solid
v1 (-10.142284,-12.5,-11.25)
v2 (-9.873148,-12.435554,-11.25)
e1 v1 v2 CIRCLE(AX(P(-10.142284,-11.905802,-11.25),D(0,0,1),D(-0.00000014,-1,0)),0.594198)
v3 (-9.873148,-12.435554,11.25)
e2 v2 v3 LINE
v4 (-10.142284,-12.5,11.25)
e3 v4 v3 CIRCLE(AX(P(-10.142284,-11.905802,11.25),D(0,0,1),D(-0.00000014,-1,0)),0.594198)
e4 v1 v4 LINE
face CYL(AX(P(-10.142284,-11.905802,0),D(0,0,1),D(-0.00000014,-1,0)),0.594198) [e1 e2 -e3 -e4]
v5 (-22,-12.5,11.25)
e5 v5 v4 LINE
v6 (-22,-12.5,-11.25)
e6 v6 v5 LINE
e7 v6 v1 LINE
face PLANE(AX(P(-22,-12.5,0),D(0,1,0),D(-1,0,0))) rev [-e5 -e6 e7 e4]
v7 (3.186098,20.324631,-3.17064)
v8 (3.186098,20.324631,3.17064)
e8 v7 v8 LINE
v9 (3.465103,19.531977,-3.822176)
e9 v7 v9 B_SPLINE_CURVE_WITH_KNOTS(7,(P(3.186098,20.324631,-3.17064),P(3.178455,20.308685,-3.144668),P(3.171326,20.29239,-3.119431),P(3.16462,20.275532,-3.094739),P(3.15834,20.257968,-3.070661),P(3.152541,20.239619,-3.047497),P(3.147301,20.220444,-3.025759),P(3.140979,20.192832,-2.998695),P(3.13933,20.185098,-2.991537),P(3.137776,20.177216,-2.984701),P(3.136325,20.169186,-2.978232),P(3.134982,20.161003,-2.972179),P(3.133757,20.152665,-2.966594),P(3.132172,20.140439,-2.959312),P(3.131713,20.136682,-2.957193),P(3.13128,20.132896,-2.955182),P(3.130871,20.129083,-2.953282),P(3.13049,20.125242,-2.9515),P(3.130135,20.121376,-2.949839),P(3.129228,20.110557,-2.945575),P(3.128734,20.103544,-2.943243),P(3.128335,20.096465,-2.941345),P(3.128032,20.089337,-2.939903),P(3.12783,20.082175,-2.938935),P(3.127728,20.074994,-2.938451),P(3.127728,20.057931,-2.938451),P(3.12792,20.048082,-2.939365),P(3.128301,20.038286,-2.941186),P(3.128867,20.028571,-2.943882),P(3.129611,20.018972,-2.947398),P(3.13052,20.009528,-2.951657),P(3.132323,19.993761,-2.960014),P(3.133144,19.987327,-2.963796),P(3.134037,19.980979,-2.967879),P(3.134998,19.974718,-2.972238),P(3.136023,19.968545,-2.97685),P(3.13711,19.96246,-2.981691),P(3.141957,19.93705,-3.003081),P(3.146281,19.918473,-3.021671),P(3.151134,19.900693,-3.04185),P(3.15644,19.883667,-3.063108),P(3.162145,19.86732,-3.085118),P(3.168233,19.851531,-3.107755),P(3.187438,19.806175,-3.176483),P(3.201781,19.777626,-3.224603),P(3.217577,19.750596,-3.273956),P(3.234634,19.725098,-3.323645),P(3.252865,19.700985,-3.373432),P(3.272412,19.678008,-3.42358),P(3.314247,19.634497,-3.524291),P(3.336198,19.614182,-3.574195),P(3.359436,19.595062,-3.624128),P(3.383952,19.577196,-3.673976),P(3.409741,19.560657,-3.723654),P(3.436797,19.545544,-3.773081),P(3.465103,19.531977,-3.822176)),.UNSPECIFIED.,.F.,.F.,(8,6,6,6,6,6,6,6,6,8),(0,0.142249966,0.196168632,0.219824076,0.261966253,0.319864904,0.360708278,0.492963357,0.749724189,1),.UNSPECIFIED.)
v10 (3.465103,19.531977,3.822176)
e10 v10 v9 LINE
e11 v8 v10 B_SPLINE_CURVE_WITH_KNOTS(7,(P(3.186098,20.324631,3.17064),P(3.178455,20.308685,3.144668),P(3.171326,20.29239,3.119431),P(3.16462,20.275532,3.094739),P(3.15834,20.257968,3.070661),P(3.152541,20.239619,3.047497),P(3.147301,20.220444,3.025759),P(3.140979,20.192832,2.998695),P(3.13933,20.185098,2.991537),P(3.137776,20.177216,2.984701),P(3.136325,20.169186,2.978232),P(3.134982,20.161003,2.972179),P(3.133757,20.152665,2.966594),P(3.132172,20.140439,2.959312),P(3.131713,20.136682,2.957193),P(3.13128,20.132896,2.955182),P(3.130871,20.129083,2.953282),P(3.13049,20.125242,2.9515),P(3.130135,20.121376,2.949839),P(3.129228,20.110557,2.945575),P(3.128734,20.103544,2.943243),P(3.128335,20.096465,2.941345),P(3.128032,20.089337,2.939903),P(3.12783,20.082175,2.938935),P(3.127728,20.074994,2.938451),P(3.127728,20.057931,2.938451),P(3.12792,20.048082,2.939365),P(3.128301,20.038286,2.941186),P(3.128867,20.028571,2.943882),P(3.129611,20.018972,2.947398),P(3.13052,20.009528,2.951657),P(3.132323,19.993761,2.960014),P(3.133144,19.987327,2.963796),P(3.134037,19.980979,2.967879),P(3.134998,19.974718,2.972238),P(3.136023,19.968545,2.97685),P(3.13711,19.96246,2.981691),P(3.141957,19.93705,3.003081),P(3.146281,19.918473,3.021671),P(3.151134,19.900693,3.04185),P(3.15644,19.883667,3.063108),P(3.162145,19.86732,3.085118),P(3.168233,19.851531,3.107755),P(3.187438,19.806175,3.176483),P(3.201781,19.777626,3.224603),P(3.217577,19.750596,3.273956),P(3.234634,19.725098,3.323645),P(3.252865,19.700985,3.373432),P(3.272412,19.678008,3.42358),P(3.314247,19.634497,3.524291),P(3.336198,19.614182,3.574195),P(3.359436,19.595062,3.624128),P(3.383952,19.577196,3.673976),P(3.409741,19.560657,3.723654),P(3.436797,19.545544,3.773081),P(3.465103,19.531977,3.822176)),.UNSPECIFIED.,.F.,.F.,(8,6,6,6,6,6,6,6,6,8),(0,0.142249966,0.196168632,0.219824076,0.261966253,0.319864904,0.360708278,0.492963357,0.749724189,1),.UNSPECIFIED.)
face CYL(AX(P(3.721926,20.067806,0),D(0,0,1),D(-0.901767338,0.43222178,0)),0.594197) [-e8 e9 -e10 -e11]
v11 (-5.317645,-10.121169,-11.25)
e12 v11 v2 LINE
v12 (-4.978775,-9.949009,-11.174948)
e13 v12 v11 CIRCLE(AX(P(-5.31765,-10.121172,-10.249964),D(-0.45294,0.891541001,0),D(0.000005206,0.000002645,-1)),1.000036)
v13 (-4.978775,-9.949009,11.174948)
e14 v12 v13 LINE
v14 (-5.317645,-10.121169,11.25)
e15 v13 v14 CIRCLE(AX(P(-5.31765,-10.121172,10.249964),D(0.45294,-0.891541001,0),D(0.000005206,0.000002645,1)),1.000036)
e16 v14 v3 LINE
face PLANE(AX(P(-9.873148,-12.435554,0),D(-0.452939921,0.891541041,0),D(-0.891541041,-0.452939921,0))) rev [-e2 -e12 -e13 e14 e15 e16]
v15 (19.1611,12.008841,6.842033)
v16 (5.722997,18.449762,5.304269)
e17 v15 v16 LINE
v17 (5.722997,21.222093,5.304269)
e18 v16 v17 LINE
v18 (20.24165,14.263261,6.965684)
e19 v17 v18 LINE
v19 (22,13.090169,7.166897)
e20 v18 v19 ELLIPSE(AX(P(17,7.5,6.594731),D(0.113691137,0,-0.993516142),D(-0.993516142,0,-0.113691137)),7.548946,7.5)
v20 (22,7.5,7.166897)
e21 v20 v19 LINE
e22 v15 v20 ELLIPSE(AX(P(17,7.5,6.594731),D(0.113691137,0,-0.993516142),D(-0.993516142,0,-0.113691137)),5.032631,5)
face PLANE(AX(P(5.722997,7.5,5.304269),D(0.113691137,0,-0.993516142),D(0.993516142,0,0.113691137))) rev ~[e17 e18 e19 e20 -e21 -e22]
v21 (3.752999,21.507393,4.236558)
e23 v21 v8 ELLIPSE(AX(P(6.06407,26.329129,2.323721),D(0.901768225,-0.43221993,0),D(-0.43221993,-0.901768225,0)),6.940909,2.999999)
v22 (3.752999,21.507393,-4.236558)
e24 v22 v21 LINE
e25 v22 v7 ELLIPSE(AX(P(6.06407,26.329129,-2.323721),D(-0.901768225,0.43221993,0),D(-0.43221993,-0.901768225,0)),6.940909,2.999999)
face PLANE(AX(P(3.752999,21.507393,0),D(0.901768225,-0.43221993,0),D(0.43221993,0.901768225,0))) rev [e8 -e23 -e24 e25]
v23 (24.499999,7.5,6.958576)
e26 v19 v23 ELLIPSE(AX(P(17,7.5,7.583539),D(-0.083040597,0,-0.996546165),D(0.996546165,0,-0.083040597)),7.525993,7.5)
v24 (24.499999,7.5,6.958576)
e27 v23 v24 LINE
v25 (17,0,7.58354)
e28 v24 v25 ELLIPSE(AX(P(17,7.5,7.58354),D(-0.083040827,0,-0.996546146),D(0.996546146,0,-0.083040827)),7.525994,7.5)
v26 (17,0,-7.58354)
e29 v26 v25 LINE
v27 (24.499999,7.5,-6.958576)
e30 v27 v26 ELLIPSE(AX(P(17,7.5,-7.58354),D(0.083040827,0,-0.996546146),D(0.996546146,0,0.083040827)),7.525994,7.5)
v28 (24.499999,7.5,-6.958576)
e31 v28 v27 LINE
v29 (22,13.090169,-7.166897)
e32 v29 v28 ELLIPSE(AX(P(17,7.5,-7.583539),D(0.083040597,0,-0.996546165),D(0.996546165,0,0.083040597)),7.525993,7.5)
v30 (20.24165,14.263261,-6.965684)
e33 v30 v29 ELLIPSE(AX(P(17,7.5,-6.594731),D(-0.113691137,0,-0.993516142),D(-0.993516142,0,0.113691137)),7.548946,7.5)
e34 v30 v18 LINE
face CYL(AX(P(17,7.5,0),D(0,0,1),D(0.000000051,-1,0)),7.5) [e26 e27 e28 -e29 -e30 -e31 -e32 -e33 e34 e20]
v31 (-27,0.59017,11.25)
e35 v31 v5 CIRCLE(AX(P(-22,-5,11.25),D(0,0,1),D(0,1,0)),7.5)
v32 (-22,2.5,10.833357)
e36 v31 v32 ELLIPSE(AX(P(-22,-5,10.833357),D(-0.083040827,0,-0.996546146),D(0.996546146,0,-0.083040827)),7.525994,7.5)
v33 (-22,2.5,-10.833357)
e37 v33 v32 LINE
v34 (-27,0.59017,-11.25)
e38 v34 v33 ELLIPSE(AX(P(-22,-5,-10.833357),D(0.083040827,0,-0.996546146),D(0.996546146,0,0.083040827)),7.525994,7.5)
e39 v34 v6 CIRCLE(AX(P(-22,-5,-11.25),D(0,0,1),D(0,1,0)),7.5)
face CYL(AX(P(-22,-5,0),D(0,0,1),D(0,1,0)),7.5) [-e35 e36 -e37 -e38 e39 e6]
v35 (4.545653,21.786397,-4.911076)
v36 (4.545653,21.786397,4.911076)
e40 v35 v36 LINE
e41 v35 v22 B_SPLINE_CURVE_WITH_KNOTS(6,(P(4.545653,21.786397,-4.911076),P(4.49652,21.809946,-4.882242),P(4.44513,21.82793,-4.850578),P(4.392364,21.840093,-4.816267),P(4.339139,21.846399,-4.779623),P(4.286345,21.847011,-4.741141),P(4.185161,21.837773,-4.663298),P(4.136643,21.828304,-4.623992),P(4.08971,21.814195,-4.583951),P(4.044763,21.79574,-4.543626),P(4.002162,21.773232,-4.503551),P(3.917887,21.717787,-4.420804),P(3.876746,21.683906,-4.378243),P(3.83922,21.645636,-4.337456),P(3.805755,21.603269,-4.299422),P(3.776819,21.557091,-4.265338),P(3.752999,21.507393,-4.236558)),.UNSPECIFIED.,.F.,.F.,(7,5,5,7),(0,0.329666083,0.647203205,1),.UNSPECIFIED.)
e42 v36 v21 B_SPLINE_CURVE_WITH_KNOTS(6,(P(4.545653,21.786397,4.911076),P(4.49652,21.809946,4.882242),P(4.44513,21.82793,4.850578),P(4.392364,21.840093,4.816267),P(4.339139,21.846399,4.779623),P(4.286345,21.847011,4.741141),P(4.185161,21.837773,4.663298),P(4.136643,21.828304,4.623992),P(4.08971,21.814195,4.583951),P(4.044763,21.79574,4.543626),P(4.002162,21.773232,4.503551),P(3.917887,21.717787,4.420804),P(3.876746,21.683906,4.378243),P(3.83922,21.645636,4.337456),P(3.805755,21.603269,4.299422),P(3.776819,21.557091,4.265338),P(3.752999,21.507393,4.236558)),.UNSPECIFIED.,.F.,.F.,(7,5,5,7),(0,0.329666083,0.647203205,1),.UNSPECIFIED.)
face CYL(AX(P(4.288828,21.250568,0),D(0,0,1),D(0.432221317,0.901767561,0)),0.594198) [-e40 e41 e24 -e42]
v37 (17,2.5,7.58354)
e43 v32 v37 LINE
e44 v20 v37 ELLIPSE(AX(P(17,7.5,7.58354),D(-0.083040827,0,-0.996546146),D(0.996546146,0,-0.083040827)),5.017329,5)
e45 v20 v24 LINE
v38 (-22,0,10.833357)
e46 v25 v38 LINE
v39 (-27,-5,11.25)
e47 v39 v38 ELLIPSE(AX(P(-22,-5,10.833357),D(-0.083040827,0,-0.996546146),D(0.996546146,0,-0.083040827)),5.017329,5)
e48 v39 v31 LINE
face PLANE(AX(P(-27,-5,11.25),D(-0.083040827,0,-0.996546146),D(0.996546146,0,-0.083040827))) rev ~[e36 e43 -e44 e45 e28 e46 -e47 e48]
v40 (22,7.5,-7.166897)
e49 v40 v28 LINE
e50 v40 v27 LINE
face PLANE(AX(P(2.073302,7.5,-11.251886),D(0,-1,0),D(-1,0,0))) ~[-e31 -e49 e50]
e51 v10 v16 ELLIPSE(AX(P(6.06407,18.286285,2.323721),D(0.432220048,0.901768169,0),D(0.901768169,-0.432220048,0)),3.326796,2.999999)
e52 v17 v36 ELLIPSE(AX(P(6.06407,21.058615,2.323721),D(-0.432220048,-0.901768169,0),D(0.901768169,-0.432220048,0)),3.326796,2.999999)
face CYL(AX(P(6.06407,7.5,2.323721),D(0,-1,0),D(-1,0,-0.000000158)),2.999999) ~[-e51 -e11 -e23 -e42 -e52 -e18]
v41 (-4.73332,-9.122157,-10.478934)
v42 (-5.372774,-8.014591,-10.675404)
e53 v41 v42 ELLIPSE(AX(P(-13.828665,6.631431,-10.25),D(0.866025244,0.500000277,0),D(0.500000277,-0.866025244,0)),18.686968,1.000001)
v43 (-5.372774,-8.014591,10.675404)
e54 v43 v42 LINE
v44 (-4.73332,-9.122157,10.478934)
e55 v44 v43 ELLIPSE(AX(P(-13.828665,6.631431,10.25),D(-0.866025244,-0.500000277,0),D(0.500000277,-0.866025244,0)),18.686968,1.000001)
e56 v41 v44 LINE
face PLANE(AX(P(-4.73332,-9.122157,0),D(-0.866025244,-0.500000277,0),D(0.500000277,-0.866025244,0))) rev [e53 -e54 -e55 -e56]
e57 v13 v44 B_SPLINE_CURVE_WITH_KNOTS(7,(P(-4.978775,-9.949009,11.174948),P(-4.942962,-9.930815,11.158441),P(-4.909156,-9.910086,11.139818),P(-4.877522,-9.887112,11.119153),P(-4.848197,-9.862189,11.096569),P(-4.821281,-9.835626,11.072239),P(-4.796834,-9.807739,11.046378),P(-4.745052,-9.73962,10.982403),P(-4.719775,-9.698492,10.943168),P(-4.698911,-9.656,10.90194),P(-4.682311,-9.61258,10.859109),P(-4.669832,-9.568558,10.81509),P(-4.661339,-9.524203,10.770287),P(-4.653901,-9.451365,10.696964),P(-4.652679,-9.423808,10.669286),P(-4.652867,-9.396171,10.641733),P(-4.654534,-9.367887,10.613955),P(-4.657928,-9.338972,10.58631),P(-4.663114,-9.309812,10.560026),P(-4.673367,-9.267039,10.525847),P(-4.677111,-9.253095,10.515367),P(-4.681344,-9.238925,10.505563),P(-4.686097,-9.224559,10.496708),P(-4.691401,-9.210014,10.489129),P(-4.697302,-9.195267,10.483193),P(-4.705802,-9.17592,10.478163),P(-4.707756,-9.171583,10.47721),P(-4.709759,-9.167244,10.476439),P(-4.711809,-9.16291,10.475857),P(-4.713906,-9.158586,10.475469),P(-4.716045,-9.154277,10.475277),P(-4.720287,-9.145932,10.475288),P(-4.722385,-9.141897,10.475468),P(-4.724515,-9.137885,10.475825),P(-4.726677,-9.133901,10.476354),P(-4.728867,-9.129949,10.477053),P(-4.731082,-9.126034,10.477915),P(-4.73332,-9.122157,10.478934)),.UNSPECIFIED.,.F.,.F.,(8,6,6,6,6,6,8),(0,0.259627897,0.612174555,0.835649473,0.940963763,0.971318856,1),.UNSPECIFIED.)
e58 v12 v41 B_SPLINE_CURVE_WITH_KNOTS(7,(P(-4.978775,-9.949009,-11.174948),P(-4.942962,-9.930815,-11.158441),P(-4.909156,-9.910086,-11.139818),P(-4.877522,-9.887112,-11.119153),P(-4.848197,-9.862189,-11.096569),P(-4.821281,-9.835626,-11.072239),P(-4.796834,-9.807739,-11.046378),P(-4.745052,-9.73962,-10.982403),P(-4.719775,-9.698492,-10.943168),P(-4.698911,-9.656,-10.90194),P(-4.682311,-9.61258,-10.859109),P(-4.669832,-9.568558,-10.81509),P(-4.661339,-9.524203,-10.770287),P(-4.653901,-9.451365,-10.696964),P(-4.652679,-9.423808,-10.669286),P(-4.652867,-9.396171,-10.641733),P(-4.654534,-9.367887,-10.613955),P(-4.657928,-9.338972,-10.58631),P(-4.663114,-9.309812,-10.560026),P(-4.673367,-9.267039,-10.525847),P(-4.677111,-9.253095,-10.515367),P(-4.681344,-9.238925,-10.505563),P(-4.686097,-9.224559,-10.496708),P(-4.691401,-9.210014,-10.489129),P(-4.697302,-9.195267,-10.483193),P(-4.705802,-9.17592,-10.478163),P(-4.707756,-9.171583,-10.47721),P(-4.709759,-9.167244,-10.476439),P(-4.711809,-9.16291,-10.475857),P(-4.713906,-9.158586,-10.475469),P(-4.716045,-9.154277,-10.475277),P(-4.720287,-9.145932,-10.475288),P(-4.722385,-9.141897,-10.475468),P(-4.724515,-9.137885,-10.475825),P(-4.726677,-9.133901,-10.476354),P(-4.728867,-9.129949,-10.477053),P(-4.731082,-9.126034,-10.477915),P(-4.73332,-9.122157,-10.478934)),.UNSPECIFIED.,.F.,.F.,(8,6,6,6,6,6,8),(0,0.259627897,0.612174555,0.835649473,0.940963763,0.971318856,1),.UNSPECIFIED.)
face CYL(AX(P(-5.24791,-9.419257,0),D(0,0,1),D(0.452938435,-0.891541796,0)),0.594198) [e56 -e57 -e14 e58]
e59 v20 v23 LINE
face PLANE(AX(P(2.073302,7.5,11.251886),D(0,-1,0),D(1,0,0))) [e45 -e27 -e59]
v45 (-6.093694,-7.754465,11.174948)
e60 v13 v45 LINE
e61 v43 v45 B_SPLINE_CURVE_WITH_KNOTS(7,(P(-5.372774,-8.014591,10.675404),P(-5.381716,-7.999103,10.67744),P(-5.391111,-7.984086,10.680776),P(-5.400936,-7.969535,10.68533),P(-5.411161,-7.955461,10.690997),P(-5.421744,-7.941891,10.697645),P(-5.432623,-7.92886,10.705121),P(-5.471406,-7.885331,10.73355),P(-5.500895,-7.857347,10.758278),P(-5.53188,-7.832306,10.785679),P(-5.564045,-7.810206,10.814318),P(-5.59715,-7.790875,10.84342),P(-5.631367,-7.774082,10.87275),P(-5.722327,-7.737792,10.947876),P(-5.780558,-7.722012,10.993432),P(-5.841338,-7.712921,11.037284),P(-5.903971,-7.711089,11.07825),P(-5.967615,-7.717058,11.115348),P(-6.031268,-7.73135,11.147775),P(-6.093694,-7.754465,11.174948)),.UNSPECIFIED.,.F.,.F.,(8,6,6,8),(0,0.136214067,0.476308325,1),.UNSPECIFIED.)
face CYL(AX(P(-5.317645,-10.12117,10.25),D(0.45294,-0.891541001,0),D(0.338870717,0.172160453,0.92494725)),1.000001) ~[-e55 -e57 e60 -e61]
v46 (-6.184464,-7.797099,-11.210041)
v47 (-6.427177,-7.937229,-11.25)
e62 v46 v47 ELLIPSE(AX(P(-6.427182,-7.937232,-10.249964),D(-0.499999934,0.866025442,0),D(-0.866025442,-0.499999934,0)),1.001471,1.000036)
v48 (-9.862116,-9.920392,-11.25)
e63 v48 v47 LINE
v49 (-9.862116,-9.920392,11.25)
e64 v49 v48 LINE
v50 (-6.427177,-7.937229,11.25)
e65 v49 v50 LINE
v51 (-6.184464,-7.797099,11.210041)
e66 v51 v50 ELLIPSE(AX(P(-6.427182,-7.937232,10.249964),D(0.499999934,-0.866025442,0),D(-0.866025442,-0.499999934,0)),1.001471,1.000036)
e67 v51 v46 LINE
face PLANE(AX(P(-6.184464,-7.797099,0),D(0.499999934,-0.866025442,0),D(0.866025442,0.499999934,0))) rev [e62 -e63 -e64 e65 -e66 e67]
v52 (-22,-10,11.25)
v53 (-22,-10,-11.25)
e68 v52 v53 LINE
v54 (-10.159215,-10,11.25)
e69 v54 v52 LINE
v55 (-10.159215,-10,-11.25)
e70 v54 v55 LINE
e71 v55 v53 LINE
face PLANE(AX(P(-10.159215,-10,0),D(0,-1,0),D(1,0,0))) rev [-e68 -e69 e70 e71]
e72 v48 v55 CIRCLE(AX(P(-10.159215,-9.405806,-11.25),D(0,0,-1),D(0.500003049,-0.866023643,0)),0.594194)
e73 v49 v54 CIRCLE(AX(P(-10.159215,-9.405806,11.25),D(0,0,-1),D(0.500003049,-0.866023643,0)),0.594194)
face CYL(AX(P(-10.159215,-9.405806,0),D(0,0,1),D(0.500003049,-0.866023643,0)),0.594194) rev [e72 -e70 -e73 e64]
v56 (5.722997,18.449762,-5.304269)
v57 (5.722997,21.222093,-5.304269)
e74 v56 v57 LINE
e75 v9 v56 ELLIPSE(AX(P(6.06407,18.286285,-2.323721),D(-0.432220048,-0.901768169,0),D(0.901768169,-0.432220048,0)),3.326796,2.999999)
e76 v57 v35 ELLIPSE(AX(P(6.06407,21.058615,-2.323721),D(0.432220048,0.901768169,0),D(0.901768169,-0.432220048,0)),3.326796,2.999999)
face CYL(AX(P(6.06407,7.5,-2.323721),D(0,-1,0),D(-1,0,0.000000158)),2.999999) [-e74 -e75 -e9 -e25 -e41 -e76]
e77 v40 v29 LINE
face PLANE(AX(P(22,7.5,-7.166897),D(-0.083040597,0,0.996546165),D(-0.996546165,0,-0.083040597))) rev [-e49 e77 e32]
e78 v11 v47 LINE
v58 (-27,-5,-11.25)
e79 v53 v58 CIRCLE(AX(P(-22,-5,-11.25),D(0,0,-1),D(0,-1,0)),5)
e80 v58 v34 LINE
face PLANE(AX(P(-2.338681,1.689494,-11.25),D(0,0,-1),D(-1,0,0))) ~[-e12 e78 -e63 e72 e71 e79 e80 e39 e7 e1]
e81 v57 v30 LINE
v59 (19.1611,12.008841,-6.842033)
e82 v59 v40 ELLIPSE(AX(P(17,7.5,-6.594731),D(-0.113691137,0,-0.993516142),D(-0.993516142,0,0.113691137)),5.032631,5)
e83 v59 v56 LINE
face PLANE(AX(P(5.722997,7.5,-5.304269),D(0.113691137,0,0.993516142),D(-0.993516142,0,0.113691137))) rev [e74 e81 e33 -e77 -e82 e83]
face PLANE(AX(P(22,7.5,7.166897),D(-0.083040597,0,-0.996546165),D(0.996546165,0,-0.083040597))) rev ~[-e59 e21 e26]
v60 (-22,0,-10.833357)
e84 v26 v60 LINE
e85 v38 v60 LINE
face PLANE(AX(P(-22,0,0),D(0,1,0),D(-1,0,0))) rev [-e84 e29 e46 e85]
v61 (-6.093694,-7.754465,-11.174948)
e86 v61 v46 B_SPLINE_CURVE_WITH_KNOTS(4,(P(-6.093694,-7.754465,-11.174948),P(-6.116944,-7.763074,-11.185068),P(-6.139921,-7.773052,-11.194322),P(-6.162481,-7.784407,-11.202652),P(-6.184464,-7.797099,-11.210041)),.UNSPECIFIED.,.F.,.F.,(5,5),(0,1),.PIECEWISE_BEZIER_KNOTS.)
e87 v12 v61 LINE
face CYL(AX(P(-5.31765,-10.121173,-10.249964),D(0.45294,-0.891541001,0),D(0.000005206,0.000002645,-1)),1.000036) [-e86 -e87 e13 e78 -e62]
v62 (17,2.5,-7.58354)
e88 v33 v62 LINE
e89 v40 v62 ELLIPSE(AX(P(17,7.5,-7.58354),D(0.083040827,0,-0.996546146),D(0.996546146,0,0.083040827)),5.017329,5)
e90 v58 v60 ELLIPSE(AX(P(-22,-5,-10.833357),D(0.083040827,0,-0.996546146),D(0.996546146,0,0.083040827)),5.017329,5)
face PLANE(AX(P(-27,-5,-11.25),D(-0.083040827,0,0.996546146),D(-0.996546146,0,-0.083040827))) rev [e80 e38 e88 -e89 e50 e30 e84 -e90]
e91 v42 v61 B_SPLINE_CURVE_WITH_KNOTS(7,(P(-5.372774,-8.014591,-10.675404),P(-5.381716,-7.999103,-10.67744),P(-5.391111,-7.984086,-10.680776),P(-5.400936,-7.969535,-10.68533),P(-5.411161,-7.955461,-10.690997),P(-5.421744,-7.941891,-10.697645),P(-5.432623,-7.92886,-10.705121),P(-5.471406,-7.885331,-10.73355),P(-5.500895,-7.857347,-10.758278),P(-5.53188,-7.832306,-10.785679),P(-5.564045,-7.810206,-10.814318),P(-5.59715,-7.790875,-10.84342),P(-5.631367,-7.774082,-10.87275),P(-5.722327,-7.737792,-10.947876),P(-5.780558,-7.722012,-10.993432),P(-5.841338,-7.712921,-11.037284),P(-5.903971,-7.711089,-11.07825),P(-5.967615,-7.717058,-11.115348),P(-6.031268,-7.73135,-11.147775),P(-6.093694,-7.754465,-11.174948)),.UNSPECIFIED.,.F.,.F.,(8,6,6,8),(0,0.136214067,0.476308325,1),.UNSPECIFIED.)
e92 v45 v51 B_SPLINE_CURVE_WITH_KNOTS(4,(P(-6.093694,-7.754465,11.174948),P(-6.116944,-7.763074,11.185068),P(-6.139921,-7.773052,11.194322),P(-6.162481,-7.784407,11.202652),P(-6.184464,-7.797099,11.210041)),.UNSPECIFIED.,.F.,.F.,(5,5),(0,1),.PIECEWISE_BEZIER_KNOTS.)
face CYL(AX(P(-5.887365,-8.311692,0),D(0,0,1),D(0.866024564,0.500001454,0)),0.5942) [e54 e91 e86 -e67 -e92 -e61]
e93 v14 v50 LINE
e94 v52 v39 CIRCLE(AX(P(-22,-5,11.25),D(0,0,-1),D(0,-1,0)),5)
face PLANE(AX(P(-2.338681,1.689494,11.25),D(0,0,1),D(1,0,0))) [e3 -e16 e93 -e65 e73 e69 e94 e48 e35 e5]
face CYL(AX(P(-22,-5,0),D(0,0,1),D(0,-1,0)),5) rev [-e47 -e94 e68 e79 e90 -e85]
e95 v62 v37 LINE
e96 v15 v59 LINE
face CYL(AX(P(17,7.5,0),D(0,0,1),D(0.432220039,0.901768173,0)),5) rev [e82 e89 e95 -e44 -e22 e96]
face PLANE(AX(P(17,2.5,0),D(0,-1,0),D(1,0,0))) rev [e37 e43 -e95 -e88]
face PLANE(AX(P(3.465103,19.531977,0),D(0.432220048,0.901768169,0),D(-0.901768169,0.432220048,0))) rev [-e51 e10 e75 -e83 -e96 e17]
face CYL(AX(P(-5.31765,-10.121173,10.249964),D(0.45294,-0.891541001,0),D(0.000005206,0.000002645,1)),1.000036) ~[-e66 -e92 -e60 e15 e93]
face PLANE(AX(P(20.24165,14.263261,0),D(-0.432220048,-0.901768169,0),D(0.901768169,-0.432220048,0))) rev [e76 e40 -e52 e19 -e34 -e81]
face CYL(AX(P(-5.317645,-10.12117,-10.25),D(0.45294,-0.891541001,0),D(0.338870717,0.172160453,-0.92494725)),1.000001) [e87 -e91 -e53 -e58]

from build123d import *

# Parameters (mm, degrees)
F1_DEPTH  = 11.25
F4_DEPTH  = 12.5
F8_DEPTH  = 25
F9_DEPTH  = 5
F10_DEPTH = 5


with BuildPart() as f1:
    # F0 (on Top) → F1 (new body)
    with BuildSketch(Plane.XY):
        with BuildLine():
            Line((-22, 0), (0, 0))
            Line((0, 0), (17, 0))
            ThreePointArc((17, 0), (24.313496, 5.837842), (20.24165, 14.263261))
            Line((20.24165, 14.263261), (4.545653, 21.786397))
            ThreePointArc((4.545653, 21.786397), (4.091542, 21.811059), (3.752999, 21.507393))
            Line((3.752999, 21.507393), (3.186098, 20.324631))
            ThreePointArc((3.186098, 20.324631), (3.161436, 19.87052), (3.465103, 19.531977))
            Line((3.465103, 19.531977), (19.1611, 12.008841))
            ThreePointArc((19.1611, 12.008841), (21.875664, 6.391894), (17, 2.5))
            Line((17, 2.5), (-22, 2.5))
            ThreePointArc((-22, 2.5), (-29.5, -5), (-22, -12.5))
            Line((-22, -12.5), (-10.142284, -12.5))
            ThreePointArc((-10.142284, -12.5), (-10.003912, -12.483664), (-9.873148, -12.435554))
            Line((-9.873148, -12.435554), (-4.978775, -9.949009))
            ThreePointArc((-4.978775, -9.949009), (-4.678281, -9.588354), (-4.73332, -9.122157))
            Line((-4.73332, -9.122157), (-5.372774, -8.014591))
            ThreePointArc((-5.372774, -8.014591), (-5.733575, -7.737739), (-6.184464, -7.797099))
            Line((-6.184464, -7.797099), (-9.862116, -9.920392))
            ThreePointArc((-9.862116, -9.920392), (-10.005425, -9.979753), (-10.159215, -10))
            Line((-10.159215, -10), (-22, -10))
            ThreePointArc((-22, -10), (-27, -5), (-22, 0))
        make_face()
    extrude(amount=F1_DEPTH)

    # F3 (on offset) → F4 (cut)
    with BuildSketch(Plane.XZ.offset(5)):
        Polygon((27.003047, 6.75), (27.003047, 15.756967), (-27, 11.25), align=None)
    extrude(amount=-F4_DEPTH, mode=Mode.SUBTRACT)

    # F6 (on offset) → F8 (cut)
    with BuildSketch(Plane.XZ.offset(-7.5)):
        with BuildLine():
            Line((22, 7.166897), (24.5, 6.958576))
            Line((24.5, 6.958576), (25.517887, 14.069991))
            Line((25.517887, 14.069991), (1.366809, 12.402037))
            Line((1.366809, 12.402037), (3.064071, 5))
            Line((3.064071, 5), (3.064071, 2.323721))
            ThreePointArc((3.064071, 2.323721), (3.825408, 4.320816), (5.722997, 5.304269))
            Line((5.722997, 5.304269), (22, 7.166897))
        make_face()
    extrude(amount=-F8_DEPTH, mode=Mode.SUBTRACT)

    # F7 (on face) → F9 (cut)
    with BuildSketch(Plane(origin=(2.996136, -5.897423, 0), x_dir=(0.891541, 0.45294, 0), z_dir=(0.45294, -0.891541, 0))):
        with BuildLine():
            Line((-7.304974, 12.209089), (-10.371014, 11.25))
            Line((-10.371014, 11.25), (-9.32518, 11.25))
            Line((-9.32518, 11.25), (-8.945085, 11.25))
            Line((-8.945085, 11.25), (-8.945085, 11.174948))
            ThreePointArc((-8.945085, 11.174948), (-8.494489, 10.806734), (-8.32518, 10.25))
            Line((-8.32518, 10.25), (-8.32518, 10.173095))
            Line((-8.32518, 10.173095), (-7.304974, 10.173095))
            Line((-7.304974, 10.173095), (-7.304974, 12.209089))
        make_face()
    extrude(amount=-F9_DEPTH, mode=Mode.SUBTRACT)

    # F7 (on face) → F10 (cut)
    with BuildSketch(Plane(origin=(2.996136, -5.897423, 0), x_dir=(0.891541, 0.45294, 0), z_dir=(0.45294, -0.891541, 0))):
        with BuildLine():
            Line((-7.304974, 12.209089), (-10.371014, 11.25))
            Line((-10.371014, 11.25), (-9.32518, 11.25))
            Line((-9.32518, 11.25), (-8.945085, 11.25))
            Line((-8.945085, 11.25), (-8.945085, 11.174948))
            ThreePointArc((-8.945085, 11.174948), (-8.494489, 10.806734), (-8.32518, 10.25))
            Line((-8.32518, 10.25), (-8.32518, 10.173095))
            Line((-8.32518, 10.173095), (-7.304974, 10.173095))
            Line((-7.304974, 10.173095), (-7.304974, 12.209089))
        make_face()
        with BuildLine():
            Line((-8.945085, 11.25), (-9.32518, 11.25))
            ThreePointArc((-9.32518, 11.25), (-9.131463, 11.231057), (-8.945085, 11.174948))
            Line((-8.945085, 11.174948), (-8.945085, 11.25))
        make_face()
    extrude(amount=-F10_DEPTH, mode=Mode.SUBTRACT)

    # F11: F1 across plane


with BuildPart() as f1_1:
    add(f1.part)
    add(f1.part.mirror(Plane.XY))


solid = f1_1.part
